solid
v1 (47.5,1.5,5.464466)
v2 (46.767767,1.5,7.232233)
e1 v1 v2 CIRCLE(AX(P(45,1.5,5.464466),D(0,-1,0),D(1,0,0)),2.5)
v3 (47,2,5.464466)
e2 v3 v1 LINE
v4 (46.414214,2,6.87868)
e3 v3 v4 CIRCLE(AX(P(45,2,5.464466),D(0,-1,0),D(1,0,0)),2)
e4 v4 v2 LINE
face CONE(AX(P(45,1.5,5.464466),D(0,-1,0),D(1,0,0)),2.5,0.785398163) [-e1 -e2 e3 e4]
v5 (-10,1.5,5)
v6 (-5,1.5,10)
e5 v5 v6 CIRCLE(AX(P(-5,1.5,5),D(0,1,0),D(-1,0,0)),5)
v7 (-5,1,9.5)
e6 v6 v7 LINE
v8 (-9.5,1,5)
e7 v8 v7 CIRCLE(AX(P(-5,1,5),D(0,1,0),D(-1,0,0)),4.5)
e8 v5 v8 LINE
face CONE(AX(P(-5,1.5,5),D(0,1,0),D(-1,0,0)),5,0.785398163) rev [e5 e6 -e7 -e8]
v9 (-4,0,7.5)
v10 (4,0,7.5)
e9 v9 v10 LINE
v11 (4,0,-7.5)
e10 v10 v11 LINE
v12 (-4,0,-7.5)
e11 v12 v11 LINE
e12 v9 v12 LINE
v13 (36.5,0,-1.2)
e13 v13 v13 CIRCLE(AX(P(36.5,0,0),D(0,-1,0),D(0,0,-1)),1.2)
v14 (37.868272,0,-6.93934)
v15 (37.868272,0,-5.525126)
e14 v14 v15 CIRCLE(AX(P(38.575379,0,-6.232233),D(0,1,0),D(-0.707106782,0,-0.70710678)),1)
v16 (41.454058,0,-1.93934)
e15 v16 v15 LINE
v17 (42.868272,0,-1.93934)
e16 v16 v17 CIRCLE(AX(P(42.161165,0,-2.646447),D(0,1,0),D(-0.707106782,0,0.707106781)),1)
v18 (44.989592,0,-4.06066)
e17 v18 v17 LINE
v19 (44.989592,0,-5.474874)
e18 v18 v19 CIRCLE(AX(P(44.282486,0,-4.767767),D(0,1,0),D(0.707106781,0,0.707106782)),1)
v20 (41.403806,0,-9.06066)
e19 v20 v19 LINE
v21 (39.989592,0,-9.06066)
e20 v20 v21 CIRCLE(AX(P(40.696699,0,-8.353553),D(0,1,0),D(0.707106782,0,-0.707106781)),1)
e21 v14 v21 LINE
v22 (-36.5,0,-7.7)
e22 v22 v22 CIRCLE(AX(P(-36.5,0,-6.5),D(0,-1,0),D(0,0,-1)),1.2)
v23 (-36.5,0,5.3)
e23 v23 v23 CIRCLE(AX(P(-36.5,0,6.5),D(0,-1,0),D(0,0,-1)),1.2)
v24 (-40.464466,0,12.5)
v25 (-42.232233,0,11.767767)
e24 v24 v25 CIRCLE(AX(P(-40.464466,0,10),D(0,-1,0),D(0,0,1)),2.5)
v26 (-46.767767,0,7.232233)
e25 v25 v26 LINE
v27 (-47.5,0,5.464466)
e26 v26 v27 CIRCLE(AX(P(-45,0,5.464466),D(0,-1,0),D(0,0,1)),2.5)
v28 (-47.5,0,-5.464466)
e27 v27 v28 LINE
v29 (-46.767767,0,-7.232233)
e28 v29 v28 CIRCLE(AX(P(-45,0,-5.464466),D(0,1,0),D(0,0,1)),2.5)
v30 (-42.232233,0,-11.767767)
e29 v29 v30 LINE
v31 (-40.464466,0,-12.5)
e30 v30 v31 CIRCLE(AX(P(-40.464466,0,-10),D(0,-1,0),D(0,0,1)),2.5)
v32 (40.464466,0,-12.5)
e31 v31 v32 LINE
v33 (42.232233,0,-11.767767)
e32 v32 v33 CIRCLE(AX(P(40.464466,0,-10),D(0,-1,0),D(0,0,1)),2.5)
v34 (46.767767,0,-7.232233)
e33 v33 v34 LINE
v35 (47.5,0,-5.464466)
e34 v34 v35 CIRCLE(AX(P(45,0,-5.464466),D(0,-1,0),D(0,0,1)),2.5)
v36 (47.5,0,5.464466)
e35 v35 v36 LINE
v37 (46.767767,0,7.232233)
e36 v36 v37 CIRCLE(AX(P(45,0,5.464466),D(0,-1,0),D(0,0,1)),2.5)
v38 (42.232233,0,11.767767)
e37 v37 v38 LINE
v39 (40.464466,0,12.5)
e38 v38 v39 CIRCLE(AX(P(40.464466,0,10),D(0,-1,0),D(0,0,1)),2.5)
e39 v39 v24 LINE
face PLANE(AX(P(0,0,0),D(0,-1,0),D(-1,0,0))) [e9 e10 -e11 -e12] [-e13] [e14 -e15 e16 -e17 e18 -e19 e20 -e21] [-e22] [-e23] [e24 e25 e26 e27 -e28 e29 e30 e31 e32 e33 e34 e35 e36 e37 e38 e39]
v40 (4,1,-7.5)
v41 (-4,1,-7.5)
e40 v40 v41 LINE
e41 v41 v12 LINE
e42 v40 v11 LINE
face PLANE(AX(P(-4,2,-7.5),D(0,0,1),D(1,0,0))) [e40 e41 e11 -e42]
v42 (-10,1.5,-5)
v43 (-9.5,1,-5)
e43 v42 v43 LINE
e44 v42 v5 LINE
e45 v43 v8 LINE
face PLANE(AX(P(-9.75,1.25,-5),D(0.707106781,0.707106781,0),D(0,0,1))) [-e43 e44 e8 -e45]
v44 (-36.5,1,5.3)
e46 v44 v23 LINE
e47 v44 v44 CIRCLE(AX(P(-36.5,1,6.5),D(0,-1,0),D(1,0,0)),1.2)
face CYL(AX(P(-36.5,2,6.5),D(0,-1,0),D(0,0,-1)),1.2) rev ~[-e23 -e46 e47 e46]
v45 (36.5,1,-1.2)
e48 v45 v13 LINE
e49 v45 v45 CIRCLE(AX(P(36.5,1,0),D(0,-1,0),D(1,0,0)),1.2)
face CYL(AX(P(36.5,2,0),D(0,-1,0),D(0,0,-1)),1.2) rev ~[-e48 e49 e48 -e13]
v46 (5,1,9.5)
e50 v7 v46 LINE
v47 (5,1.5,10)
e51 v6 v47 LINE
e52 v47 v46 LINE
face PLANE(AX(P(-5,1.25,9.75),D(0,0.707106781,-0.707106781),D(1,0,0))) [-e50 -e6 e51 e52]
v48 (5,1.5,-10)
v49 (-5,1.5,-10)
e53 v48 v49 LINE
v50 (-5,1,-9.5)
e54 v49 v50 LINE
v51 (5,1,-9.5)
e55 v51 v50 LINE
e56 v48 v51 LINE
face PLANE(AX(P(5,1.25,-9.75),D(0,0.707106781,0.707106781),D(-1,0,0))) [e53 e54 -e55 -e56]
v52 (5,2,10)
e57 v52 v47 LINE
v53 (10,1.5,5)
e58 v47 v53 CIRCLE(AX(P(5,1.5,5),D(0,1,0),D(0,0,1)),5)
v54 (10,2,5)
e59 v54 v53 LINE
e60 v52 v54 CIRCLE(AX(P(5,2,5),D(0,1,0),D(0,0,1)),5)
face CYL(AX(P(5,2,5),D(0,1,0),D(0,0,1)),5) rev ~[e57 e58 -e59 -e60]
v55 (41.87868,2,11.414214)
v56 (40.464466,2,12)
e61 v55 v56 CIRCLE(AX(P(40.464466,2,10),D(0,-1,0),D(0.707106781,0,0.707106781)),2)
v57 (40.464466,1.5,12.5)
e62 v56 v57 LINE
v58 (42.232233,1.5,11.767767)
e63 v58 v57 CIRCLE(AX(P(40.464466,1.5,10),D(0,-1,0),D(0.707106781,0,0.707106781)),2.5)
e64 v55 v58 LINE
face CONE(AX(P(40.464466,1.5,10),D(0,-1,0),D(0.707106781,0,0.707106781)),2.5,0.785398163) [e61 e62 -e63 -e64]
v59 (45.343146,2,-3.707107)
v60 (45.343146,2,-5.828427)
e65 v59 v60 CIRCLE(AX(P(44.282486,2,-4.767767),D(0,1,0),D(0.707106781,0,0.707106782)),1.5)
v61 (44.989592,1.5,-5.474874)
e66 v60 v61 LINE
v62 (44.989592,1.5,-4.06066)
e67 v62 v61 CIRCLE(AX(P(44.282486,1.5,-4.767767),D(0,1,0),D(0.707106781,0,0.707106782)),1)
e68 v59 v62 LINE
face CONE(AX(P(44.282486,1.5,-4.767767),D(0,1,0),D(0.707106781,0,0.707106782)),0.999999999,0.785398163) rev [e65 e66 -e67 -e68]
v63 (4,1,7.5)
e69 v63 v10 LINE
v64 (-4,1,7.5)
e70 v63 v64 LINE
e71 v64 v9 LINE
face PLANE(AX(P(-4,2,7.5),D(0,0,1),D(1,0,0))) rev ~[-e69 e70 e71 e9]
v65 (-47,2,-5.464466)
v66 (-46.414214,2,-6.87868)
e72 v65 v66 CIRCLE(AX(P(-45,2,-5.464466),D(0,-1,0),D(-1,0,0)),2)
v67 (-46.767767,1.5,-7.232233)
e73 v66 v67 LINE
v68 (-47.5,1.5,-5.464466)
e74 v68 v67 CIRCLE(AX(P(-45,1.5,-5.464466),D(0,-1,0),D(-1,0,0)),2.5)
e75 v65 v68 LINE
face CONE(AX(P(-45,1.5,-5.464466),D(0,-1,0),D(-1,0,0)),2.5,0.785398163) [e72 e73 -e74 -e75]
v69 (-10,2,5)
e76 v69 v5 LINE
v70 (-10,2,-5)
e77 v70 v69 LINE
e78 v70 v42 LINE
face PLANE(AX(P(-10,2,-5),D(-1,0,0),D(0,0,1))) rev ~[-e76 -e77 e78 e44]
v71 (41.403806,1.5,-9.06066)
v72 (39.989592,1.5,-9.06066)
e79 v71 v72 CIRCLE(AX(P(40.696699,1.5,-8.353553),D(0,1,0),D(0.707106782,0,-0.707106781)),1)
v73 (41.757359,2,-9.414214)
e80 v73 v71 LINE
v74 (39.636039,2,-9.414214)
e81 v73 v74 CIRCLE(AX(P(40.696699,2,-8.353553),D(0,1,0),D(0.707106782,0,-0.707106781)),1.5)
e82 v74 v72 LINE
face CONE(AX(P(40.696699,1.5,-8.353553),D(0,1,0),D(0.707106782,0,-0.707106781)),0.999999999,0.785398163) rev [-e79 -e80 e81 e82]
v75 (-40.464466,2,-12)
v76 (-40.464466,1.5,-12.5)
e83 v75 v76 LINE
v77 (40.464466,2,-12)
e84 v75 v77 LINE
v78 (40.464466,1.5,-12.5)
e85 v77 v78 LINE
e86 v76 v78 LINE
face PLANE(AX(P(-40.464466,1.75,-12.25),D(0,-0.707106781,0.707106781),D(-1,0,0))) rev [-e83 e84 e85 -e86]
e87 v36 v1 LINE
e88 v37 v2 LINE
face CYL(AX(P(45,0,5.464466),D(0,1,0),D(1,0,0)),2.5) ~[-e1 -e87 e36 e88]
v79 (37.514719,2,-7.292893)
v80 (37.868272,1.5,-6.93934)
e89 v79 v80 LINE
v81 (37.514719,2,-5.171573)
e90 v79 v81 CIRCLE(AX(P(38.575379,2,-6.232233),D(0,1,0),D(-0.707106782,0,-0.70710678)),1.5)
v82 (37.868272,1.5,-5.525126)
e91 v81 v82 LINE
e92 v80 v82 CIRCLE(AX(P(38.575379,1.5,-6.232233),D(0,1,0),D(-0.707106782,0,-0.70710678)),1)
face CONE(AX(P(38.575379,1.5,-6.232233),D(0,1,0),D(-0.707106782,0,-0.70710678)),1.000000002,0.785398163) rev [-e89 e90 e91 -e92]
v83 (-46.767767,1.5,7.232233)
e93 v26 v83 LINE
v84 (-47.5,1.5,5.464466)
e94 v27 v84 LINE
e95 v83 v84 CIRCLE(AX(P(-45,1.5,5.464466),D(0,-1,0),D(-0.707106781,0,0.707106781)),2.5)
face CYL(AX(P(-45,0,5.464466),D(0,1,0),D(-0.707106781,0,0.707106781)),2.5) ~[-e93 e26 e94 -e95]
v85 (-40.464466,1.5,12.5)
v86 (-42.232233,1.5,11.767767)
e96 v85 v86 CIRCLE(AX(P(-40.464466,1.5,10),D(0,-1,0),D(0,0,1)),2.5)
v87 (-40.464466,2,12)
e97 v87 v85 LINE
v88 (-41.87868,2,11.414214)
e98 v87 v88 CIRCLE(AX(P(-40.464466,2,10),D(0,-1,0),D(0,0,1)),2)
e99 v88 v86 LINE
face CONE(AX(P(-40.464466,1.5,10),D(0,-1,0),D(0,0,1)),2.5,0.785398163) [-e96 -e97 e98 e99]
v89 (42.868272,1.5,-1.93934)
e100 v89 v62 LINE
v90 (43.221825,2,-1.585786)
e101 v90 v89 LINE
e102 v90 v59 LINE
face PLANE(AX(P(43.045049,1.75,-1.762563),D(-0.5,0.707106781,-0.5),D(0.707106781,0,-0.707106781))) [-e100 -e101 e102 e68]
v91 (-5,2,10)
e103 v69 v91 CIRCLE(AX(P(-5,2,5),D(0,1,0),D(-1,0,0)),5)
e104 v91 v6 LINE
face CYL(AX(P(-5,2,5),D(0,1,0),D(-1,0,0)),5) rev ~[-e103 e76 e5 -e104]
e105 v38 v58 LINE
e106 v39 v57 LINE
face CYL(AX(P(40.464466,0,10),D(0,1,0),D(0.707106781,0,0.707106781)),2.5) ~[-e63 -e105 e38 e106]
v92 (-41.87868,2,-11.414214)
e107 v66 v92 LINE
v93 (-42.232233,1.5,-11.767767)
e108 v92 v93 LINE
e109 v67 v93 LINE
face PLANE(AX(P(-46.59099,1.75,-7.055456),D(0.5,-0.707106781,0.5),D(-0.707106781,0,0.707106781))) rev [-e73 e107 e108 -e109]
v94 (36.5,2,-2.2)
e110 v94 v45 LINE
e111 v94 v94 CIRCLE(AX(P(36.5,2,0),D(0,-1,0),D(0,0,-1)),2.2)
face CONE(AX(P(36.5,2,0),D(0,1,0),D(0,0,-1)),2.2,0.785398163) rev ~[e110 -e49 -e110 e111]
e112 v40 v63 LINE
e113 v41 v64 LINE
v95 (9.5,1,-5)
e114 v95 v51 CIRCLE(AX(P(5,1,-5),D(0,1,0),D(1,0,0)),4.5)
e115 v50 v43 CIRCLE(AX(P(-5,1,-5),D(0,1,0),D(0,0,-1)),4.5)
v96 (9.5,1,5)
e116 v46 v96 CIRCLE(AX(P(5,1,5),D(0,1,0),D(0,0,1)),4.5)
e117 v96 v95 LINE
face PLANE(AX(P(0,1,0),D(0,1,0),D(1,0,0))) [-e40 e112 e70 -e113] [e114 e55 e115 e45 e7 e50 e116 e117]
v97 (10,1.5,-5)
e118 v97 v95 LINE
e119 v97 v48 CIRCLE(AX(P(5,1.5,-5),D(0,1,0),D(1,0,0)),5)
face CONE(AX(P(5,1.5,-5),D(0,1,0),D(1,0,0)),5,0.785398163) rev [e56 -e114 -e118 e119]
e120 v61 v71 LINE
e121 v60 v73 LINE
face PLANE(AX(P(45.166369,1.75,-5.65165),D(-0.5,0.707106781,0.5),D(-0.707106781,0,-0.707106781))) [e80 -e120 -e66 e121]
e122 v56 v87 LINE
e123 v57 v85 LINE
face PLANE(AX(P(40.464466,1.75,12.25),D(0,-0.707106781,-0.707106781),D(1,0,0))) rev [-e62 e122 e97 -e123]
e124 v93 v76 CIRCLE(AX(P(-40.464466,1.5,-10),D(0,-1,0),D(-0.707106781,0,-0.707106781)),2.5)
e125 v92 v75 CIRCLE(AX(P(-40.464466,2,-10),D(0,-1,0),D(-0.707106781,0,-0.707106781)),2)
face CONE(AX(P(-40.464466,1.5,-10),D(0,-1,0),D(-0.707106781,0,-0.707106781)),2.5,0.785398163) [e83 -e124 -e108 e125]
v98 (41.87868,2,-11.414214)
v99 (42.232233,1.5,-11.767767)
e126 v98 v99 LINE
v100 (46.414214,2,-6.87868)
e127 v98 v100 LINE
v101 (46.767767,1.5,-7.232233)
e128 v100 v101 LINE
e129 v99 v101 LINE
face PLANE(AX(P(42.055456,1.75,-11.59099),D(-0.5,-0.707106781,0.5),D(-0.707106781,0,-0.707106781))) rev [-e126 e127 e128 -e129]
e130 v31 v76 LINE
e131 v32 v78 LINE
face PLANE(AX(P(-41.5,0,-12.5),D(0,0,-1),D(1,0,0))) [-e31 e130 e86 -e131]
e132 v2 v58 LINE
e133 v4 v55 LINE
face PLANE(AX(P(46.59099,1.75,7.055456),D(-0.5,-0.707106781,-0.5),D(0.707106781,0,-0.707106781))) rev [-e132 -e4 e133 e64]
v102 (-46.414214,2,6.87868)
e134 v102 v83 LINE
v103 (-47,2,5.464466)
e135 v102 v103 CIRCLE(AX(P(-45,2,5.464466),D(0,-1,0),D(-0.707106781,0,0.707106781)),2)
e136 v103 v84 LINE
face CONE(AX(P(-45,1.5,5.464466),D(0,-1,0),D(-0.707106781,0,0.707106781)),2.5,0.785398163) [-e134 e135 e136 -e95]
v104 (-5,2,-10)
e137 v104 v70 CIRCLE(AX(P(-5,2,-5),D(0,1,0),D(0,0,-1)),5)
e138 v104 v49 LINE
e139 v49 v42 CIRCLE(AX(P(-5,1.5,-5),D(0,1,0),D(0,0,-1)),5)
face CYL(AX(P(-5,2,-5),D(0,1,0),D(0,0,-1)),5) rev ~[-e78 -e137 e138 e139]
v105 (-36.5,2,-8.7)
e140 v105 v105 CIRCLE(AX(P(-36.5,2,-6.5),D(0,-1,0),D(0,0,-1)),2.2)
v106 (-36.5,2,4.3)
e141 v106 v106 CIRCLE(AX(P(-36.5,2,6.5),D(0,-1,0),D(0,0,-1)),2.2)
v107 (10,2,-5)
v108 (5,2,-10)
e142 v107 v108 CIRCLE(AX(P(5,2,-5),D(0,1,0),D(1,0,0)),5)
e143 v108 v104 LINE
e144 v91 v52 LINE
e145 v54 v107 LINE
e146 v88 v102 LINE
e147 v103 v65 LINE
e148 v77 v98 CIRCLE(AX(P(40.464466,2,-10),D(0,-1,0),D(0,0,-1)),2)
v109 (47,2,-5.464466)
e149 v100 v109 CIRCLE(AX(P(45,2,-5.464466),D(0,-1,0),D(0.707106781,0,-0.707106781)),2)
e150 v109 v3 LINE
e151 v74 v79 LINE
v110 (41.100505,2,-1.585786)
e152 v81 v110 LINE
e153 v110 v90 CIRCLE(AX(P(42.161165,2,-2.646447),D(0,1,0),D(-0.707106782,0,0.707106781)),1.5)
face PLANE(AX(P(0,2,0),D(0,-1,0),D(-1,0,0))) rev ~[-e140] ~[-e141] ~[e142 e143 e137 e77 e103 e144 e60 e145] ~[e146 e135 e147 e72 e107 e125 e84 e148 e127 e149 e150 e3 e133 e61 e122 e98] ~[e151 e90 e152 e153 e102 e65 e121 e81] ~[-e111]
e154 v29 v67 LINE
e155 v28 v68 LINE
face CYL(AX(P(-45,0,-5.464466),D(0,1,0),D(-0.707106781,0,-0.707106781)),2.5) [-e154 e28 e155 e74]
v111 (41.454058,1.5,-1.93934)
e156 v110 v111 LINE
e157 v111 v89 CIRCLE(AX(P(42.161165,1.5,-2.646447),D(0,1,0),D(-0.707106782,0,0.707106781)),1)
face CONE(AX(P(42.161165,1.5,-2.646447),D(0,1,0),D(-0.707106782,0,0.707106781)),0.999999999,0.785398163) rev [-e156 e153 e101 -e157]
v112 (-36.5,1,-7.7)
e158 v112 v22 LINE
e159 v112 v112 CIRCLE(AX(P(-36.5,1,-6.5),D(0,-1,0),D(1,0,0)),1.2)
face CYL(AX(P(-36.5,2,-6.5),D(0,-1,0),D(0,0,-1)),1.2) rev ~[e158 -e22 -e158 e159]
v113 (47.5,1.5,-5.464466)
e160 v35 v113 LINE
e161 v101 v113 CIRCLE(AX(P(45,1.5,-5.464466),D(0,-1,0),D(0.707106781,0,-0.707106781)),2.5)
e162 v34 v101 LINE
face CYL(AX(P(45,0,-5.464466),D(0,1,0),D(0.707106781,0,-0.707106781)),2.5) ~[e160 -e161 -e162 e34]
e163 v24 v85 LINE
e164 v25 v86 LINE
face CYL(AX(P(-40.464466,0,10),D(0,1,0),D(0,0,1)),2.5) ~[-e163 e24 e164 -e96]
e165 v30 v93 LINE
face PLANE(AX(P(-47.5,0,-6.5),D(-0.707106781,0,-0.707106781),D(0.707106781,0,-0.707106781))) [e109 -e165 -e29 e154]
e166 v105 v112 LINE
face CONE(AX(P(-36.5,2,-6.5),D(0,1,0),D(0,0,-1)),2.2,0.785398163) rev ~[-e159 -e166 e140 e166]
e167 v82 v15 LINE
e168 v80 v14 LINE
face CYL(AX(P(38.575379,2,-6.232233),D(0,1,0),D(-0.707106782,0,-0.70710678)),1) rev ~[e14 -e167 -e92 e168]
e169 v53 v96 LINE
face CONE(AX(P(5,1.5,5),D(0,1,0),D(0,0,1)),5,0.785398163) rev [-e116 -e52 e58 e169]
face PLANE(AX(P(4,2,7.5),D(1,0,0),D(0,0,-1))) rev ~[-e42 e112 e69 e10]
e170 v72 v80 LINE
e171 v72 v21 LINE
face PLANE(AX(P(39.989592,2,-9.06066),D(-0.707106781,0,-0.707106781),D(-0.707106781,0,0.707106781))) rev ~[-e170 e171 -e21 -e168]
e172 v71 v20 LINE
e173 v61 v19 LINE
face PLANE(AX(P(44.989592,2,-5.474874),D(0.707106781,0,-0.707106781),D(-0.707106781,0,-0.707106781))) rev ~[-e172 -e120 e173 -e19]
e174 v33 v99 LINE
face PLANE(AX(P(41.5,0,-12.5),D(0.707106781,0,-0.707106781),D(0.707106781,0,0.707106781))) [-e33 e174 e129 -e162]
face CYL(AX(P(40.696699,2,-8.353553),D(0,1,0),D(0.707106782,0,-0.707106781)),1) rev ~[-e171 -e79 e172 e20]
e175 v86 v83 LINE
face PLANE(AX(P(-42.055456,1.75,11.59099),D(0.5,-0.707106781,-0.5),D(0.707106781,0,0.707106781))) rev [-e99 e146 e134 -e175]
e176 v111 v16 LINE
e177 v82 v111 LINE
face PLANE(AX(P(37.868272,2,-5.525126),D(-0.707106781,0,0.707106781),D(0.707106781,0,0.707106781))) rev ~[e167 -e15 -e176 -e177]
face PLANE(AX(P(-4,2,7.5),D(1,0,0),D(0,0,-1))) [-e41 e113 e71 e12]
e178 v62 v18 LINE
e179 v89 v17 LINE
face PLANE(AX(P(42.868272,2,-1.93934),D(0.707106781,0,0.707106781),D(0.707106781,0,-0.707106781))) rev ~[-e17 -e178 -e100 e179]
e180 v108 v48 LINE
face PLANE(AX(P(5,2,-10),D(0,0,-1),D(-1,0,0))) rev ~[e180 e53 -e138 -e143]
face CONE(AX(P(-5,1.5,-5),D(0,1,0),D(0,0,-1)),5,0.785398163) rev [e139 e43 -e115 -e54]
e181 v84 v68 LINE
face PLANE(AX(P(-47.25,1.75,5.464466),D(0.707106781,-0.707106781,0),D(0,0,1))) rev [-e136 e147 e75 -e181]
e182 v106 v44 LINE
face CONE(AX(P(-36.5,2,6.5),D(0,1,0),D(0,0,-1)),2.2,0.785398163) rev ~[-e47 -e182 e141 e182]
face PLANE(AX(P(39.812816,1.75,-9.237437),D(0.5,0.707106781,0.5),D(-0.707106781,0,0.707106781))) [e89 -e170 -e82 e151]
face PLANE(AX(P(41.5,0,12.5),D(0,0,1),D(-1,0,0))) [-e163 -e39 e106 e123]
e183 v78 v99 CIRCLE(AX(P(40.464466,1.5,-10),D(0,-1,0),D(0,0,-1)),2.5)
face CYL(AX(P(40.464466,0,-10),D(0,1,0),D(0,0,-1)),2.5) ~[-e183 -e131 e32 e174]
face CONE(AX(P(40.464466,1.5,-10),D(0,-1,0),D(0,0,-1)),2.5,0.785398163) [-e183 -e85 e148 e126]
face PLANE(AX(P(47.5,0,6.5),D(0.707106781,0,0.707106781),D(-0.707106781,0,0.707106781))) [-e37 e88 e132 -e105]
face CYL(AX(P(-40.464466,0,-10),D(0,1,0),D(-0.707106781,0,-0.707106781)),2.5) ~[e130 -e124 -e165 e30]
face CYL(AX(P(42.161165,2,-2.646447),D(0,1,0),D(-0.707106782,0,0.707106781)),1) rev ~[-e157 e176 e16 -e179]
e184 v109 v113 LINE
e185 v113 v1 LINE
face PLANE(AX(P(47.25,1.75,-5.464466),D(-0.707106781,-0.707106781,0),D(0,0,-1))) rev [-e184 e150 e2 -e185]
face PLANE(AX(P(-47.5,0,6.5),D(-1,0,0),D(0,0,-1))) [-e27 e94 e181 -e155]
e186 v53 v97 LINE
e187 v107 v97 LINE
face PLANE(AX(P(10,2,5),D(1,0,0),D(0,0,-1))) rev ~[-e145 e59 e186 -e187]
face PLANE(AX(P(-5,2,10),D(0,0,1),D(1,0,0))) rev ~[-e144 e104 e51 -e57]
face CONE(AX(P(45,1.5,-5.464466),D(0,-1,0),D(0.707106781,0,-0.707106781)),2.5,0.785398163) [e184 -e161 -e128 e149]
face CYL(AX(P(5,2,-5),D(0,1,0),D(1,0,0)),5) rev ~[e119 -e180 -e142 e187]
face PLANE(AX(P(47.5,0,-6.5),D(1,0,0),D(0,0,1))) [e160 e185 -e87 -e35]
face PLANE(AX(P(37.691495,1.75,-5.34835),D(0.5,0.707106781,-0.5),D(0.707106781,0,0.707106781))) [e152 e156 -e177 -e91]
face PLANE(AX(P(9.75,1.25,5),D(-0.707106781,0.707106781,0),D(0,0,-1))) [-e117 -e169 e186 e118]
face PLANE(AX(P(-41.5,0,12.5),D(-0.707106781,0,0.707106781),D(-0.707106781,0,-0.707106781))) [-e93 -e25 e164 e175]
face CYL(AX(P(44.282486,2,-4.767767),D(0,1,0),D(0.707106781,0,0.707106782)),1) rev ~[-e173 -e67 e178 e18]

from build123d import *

# Parameters (mm, degrees)
BOSS_EXTRUDE1_DEPTH                                 = 2
FILLET1_R                                           = 2.5
SKETCH2_W                                           = 8
SKETCH2_H                                           = 15
CUT_EXTRUDE1_DEPTH                                  = 2
CUT_EXTRUDE2_DEPTH                                  = 1
FILLET3_SIZE                                        = 0.5
FILLET4_SIZE                                        = 0.5
CUT_EXTRUDE3_DEPTH                                  = 50.157908825
FILLET5_SIZE                                        = 0.5
CSK_FOR_M2_COUNTERSUNK_FLAT_HEAD_SCREW1_D           = 2.4
CSK_FOR_M2_COUNTERSUNK_FLAT_HEAD_SCREW1_DEPTH       = 4.278967257
CSK_FOR_M2_COUNTERSUNK_FLAT_HEAD_SCREW1_CSINK_D     = 4.4
CSK_FOR_M2_COUNTERSUNK_FLAT_HEAD_SCREW1_CSINK_ANGLE = 90
CSK_FOR_M2_COUNTERSUNK_FLAT_HEAD_SCREW1_TIP         = 0.721032743
CSK_FOR_M2_COUNTERSUNK_FLAT_HEAD_SCREW2_D           = 2.4
CSK_FOR_M2_COUNTERSUNK_FLAT_HEAD_SCREW2_DEPTH       = 4.278967257
CSK_FOR_M2_COUNTERSUNK_FLAT_HEAD_SCREW2_CSINK_D     = 4.4
CSK_FOR_M2_COUNTERSUNK_FLAT_HEAD_SCREW2_CSINK_ANGLE = 90
CSK_FOR_M2_COUNTERSUNK_FLAT_HEAD_SCREW2_TIP         = 0.721032743


with BuildPart() as part:
    # Sketch1 → Boss-Extrude1 (new body)
    with BuildSketch(Plane(origin=(0, 0, 0), x_dir=(1, 0, 0), z_dir=(0, 1, 0))):
        Polygon((-47.5, 6.5), (-41.5, 12.5), (41.5, 12.5), (47.5, 6.5), (47.5, -6.5), (41.5, -12.5), (-41.5, -12.5), (-47.5, -6.5), align=None)
    extrude(amount=BOSS_EXTRUDE1_DEPTH)

    # Fillet1
    fillet1_edges = [part.edges().sort_by_distance(p)[0] for p in [
        (41.5, 1, -12.5),
        (47.5, 1, -6.5),
        (47.5, 1, 6.5),
        (41.5, 1, 12.5),
        (-41.5, 1, 12.5),
        (-47.5, 1, 6.5),
        (-47.5, 1, -6.5),
        (-41.5, 1, -12.5),
    ]]
    fillet(fillet1_edges, radius=FILLET1_R)

    # Sketch2 → Cut-Extrude1 (cut)
    with BuildSketch(Plane(origin=(0, 2, 0), x_dir=(1, 0, 0), z_dir=(0, 1, 0))):
        Rectangle(SKETCH2_W, SKETCH2_H)
    extrude(amount=-CUT_EXTRUDE1_DEPTH, mode=Mode.SUBTRACT)

    # Sketch3 → Cut-Extrude2 (cut)
    with BuildSketch(Plane(origin=(0, 2, 0), x_dir=(1, 0, 0), z_dir=(0, 1, 0))):
        with BuildLine():
            Line((-5, -10), (5, -10))
            ThreePointArc((5, -10), (8.535533906, -8.535533906), (10, -5))
            Line((10, -5), (10, 5))
            ThreePointArc((10, 5), (8.535533906, 8.535533906), (5, 10))
            Line((5, 10), (-5, 10))
            ThreePointArc((-5, 10), (-8.535533906, 8.535533906), (-10, 5))
            Line((-10, 5), (-10, -5))
            ThreePointArc((-10, -5), (-8.535533906, -8.535533906), (-5, -10))
        make_face()
    extrude(amount=-CUT_EXTRUDE2_DEPTH, mode=Mode.SUBTRACT)

    # Fillet3
    fillet3_edges = [part.edges().sort_by_distance(p)[0] for p in [
        (-8.535533906, 1, 8.535533906),
        (-10, 1, 0),
        (-8.535533906, 1, -8.535533906),
        (0, 1, -10),
        (8.535533906, 1, -8.535533906),
        (10, 1, 0),
        (8.535533906, 1, 8.535533906),
        (0, 1, 10),
    ]]
    chamfer(fillet3_edges, length=FILLET3_SIZE)

    # Fillet4
    fillet4_edges = [part.edges().sort_by_distance(p)[0] for p in [
        (0, 2, 12.5),
        (-44.5, 2, 9.5),
        (0, 2, -12.5),
        (-44.5, 2, -9.5),
        (-47.5, 2, 0),
        (44.5, 2, 9.5),
        (47.5, 2, 0),
        (44.5, 2, -9.5),
        (41.421174675, 2, 12.309698831),
        (47.309698831, 2, 6.421174675),
        (47.309698831, 2, -6.421174675),
        (41.421174675, 2, -12.309698831),
        (-41.421174675, 2, -12.309698831),
        (-47.309698831, 2, -6.421174675),
        (-47.309698831, 2, 6.421174675),
        (-41.421174675, 2, 12.309698831),
    ]]
    chamfer(fillet4_edges, length=FILLET4_SIZE)

    # Sketch5 → Cut-Extrude3 (cut, through all)
    with BuildSketch(Plane(origin=(0, 2, 0), x_dir=(1, 0, 0), z_dir=(0, 1, 0))):
        with BuildLine():
            Line((39.98959236, 9.060660172), (37.868272016, 6.939339828))
            ThreePointArc((37.868272016, 6.939339828), (37.575378798, 6.232233047), (37.868272016, 5.525126266))
            Line((37.868272016, 5.525126266), (41.454058454, 1.939339828))
            ThreePointArc((41.454058454, 1.939339828), (42.161165235, 1.646446609), (42.868272016, 1.939339828))
            Line((42.868272016, 1.939339828), (44.98959236, 4.060660172))
            ThreePointArc((44.98959236, 4.060660172), (45.282485579, 4.767766953), (44.98959236, 5.474873734))
            Line((44.98959236, 5.474873734), (41.403805922, 9.060660172))
            ThreePointArc((41.403805922, 9.060660172), (40.696699141, 9.353553391), (39.98959236, 9.060660172))
        make_face()
    extrude(amount=-CUT_EXTRUDE3_DEPTH, mode=Mode.SUBTRACT)

    # Fillet5
    fillet5_edges = [part.edges().sort_by_distance(p)[0] for p in [
        (40.696699141, 2, -9.353553391),
        (43.196699141, 2, -7.267766953),
        (45.282485579, 2, -4.767766953),
        (43.928932188, 2, -3),
        (42.161165235, 2, -1.646446609),
        (38.928932188, 2, -8),
        (37.575378798, 2, -6.232233047),
        (39.661165235, 2, -3.732233047),
    ]]
    chamfer(fillet5_edges, length=FILLET5_SIZE)

    # CSK for M2 Countersunk Flat Head Screw1
    with Locations(Plane(origin=(36.5, 2, 0), x_dir=(0, 0, 1), z_dir=(0, 1, 0))):
        with Locations((0, 0)):
            CounterSinkHole(CSK_FOR_M2_COUNTERSUNK_FLAT_HEAD_SCREW1_D / 2, CSK_FOR_M2_COUNTERSUNK_FLAT_HEAD_SCREW1_CSINK_D / 2, depth=CSK_FOR_M2_COUNTERSUNK_FLAT_HEAD_SCREW1_DEPTH, counter_sink_angle=CSK_FOR_M2_COUNTERSUNK_FLAT_HEAD_SCREW1_CSINK_ANGLE)
            with Locations((0, 0, -(CSK_FOR_M2_COUNTERSUNK_FLAT_HEAD_SCREW1_DEPTH + CSK_FOR_M2_COUNTERSUNK_FLAT_HEAD_SCREW1_TIP / 2))):  # 118° drill point
                Cone(0, CSK_FOR_M2_COUNTERSUNK_FLAT_HEAD_SCREW1_D / 2, CSK_FOR_M2_COUNTERSUNK_FLAT_HEAD_SCREW1_TIP, mode=Mode.SUBTRACT)

    # CSK for M2 Countersunk Flat Head Screw2
    with Locations(Plane(origin=(-36.5, 2, -6.5), x_dir=(0, 0, 1), z_dir=(0, 1, 0))):
        with Locations((0, 0), (13, 0)):
            CounterSinkHole(CSK_FOR_M2_COUNTERSUNK_FLAT_HEAD_SCREW2_D / 2, CSK_FOR_M2_COUNTERSUNK_FLAT_HEAD_SCREW2_CSINK_D / 2, depth=CSK_FOR_M2_COUNTERSUNK_FLAT_HEAD_SCREW2_DEPTH, counter_sink_angle=CSK_FOR_M2_COUNTERSUNK_FLAT_HEAD_SCREW2_CSINK_ANGLE)
            with Locations((0, 0, -(CSK_FOR_M2_COUNTERSUNK_FLAT_HEAD_SCREW2_DEPTH + CSK_FOR_M2_COUNTERSUNK_FLAT_HEAD_SCREW2_TIP / 2))):  # 118° drill point
                Cone(0, CSK_FOR_M2_COUNTERSUNK_FLAT_HEAD_SCREW2_D / 2, CSK_FOR_M2_COUNTERSUNK_FLAT_HEAD_SCREW2_TIP, mode=Mode.SUBTRACT)


solid = part.part
